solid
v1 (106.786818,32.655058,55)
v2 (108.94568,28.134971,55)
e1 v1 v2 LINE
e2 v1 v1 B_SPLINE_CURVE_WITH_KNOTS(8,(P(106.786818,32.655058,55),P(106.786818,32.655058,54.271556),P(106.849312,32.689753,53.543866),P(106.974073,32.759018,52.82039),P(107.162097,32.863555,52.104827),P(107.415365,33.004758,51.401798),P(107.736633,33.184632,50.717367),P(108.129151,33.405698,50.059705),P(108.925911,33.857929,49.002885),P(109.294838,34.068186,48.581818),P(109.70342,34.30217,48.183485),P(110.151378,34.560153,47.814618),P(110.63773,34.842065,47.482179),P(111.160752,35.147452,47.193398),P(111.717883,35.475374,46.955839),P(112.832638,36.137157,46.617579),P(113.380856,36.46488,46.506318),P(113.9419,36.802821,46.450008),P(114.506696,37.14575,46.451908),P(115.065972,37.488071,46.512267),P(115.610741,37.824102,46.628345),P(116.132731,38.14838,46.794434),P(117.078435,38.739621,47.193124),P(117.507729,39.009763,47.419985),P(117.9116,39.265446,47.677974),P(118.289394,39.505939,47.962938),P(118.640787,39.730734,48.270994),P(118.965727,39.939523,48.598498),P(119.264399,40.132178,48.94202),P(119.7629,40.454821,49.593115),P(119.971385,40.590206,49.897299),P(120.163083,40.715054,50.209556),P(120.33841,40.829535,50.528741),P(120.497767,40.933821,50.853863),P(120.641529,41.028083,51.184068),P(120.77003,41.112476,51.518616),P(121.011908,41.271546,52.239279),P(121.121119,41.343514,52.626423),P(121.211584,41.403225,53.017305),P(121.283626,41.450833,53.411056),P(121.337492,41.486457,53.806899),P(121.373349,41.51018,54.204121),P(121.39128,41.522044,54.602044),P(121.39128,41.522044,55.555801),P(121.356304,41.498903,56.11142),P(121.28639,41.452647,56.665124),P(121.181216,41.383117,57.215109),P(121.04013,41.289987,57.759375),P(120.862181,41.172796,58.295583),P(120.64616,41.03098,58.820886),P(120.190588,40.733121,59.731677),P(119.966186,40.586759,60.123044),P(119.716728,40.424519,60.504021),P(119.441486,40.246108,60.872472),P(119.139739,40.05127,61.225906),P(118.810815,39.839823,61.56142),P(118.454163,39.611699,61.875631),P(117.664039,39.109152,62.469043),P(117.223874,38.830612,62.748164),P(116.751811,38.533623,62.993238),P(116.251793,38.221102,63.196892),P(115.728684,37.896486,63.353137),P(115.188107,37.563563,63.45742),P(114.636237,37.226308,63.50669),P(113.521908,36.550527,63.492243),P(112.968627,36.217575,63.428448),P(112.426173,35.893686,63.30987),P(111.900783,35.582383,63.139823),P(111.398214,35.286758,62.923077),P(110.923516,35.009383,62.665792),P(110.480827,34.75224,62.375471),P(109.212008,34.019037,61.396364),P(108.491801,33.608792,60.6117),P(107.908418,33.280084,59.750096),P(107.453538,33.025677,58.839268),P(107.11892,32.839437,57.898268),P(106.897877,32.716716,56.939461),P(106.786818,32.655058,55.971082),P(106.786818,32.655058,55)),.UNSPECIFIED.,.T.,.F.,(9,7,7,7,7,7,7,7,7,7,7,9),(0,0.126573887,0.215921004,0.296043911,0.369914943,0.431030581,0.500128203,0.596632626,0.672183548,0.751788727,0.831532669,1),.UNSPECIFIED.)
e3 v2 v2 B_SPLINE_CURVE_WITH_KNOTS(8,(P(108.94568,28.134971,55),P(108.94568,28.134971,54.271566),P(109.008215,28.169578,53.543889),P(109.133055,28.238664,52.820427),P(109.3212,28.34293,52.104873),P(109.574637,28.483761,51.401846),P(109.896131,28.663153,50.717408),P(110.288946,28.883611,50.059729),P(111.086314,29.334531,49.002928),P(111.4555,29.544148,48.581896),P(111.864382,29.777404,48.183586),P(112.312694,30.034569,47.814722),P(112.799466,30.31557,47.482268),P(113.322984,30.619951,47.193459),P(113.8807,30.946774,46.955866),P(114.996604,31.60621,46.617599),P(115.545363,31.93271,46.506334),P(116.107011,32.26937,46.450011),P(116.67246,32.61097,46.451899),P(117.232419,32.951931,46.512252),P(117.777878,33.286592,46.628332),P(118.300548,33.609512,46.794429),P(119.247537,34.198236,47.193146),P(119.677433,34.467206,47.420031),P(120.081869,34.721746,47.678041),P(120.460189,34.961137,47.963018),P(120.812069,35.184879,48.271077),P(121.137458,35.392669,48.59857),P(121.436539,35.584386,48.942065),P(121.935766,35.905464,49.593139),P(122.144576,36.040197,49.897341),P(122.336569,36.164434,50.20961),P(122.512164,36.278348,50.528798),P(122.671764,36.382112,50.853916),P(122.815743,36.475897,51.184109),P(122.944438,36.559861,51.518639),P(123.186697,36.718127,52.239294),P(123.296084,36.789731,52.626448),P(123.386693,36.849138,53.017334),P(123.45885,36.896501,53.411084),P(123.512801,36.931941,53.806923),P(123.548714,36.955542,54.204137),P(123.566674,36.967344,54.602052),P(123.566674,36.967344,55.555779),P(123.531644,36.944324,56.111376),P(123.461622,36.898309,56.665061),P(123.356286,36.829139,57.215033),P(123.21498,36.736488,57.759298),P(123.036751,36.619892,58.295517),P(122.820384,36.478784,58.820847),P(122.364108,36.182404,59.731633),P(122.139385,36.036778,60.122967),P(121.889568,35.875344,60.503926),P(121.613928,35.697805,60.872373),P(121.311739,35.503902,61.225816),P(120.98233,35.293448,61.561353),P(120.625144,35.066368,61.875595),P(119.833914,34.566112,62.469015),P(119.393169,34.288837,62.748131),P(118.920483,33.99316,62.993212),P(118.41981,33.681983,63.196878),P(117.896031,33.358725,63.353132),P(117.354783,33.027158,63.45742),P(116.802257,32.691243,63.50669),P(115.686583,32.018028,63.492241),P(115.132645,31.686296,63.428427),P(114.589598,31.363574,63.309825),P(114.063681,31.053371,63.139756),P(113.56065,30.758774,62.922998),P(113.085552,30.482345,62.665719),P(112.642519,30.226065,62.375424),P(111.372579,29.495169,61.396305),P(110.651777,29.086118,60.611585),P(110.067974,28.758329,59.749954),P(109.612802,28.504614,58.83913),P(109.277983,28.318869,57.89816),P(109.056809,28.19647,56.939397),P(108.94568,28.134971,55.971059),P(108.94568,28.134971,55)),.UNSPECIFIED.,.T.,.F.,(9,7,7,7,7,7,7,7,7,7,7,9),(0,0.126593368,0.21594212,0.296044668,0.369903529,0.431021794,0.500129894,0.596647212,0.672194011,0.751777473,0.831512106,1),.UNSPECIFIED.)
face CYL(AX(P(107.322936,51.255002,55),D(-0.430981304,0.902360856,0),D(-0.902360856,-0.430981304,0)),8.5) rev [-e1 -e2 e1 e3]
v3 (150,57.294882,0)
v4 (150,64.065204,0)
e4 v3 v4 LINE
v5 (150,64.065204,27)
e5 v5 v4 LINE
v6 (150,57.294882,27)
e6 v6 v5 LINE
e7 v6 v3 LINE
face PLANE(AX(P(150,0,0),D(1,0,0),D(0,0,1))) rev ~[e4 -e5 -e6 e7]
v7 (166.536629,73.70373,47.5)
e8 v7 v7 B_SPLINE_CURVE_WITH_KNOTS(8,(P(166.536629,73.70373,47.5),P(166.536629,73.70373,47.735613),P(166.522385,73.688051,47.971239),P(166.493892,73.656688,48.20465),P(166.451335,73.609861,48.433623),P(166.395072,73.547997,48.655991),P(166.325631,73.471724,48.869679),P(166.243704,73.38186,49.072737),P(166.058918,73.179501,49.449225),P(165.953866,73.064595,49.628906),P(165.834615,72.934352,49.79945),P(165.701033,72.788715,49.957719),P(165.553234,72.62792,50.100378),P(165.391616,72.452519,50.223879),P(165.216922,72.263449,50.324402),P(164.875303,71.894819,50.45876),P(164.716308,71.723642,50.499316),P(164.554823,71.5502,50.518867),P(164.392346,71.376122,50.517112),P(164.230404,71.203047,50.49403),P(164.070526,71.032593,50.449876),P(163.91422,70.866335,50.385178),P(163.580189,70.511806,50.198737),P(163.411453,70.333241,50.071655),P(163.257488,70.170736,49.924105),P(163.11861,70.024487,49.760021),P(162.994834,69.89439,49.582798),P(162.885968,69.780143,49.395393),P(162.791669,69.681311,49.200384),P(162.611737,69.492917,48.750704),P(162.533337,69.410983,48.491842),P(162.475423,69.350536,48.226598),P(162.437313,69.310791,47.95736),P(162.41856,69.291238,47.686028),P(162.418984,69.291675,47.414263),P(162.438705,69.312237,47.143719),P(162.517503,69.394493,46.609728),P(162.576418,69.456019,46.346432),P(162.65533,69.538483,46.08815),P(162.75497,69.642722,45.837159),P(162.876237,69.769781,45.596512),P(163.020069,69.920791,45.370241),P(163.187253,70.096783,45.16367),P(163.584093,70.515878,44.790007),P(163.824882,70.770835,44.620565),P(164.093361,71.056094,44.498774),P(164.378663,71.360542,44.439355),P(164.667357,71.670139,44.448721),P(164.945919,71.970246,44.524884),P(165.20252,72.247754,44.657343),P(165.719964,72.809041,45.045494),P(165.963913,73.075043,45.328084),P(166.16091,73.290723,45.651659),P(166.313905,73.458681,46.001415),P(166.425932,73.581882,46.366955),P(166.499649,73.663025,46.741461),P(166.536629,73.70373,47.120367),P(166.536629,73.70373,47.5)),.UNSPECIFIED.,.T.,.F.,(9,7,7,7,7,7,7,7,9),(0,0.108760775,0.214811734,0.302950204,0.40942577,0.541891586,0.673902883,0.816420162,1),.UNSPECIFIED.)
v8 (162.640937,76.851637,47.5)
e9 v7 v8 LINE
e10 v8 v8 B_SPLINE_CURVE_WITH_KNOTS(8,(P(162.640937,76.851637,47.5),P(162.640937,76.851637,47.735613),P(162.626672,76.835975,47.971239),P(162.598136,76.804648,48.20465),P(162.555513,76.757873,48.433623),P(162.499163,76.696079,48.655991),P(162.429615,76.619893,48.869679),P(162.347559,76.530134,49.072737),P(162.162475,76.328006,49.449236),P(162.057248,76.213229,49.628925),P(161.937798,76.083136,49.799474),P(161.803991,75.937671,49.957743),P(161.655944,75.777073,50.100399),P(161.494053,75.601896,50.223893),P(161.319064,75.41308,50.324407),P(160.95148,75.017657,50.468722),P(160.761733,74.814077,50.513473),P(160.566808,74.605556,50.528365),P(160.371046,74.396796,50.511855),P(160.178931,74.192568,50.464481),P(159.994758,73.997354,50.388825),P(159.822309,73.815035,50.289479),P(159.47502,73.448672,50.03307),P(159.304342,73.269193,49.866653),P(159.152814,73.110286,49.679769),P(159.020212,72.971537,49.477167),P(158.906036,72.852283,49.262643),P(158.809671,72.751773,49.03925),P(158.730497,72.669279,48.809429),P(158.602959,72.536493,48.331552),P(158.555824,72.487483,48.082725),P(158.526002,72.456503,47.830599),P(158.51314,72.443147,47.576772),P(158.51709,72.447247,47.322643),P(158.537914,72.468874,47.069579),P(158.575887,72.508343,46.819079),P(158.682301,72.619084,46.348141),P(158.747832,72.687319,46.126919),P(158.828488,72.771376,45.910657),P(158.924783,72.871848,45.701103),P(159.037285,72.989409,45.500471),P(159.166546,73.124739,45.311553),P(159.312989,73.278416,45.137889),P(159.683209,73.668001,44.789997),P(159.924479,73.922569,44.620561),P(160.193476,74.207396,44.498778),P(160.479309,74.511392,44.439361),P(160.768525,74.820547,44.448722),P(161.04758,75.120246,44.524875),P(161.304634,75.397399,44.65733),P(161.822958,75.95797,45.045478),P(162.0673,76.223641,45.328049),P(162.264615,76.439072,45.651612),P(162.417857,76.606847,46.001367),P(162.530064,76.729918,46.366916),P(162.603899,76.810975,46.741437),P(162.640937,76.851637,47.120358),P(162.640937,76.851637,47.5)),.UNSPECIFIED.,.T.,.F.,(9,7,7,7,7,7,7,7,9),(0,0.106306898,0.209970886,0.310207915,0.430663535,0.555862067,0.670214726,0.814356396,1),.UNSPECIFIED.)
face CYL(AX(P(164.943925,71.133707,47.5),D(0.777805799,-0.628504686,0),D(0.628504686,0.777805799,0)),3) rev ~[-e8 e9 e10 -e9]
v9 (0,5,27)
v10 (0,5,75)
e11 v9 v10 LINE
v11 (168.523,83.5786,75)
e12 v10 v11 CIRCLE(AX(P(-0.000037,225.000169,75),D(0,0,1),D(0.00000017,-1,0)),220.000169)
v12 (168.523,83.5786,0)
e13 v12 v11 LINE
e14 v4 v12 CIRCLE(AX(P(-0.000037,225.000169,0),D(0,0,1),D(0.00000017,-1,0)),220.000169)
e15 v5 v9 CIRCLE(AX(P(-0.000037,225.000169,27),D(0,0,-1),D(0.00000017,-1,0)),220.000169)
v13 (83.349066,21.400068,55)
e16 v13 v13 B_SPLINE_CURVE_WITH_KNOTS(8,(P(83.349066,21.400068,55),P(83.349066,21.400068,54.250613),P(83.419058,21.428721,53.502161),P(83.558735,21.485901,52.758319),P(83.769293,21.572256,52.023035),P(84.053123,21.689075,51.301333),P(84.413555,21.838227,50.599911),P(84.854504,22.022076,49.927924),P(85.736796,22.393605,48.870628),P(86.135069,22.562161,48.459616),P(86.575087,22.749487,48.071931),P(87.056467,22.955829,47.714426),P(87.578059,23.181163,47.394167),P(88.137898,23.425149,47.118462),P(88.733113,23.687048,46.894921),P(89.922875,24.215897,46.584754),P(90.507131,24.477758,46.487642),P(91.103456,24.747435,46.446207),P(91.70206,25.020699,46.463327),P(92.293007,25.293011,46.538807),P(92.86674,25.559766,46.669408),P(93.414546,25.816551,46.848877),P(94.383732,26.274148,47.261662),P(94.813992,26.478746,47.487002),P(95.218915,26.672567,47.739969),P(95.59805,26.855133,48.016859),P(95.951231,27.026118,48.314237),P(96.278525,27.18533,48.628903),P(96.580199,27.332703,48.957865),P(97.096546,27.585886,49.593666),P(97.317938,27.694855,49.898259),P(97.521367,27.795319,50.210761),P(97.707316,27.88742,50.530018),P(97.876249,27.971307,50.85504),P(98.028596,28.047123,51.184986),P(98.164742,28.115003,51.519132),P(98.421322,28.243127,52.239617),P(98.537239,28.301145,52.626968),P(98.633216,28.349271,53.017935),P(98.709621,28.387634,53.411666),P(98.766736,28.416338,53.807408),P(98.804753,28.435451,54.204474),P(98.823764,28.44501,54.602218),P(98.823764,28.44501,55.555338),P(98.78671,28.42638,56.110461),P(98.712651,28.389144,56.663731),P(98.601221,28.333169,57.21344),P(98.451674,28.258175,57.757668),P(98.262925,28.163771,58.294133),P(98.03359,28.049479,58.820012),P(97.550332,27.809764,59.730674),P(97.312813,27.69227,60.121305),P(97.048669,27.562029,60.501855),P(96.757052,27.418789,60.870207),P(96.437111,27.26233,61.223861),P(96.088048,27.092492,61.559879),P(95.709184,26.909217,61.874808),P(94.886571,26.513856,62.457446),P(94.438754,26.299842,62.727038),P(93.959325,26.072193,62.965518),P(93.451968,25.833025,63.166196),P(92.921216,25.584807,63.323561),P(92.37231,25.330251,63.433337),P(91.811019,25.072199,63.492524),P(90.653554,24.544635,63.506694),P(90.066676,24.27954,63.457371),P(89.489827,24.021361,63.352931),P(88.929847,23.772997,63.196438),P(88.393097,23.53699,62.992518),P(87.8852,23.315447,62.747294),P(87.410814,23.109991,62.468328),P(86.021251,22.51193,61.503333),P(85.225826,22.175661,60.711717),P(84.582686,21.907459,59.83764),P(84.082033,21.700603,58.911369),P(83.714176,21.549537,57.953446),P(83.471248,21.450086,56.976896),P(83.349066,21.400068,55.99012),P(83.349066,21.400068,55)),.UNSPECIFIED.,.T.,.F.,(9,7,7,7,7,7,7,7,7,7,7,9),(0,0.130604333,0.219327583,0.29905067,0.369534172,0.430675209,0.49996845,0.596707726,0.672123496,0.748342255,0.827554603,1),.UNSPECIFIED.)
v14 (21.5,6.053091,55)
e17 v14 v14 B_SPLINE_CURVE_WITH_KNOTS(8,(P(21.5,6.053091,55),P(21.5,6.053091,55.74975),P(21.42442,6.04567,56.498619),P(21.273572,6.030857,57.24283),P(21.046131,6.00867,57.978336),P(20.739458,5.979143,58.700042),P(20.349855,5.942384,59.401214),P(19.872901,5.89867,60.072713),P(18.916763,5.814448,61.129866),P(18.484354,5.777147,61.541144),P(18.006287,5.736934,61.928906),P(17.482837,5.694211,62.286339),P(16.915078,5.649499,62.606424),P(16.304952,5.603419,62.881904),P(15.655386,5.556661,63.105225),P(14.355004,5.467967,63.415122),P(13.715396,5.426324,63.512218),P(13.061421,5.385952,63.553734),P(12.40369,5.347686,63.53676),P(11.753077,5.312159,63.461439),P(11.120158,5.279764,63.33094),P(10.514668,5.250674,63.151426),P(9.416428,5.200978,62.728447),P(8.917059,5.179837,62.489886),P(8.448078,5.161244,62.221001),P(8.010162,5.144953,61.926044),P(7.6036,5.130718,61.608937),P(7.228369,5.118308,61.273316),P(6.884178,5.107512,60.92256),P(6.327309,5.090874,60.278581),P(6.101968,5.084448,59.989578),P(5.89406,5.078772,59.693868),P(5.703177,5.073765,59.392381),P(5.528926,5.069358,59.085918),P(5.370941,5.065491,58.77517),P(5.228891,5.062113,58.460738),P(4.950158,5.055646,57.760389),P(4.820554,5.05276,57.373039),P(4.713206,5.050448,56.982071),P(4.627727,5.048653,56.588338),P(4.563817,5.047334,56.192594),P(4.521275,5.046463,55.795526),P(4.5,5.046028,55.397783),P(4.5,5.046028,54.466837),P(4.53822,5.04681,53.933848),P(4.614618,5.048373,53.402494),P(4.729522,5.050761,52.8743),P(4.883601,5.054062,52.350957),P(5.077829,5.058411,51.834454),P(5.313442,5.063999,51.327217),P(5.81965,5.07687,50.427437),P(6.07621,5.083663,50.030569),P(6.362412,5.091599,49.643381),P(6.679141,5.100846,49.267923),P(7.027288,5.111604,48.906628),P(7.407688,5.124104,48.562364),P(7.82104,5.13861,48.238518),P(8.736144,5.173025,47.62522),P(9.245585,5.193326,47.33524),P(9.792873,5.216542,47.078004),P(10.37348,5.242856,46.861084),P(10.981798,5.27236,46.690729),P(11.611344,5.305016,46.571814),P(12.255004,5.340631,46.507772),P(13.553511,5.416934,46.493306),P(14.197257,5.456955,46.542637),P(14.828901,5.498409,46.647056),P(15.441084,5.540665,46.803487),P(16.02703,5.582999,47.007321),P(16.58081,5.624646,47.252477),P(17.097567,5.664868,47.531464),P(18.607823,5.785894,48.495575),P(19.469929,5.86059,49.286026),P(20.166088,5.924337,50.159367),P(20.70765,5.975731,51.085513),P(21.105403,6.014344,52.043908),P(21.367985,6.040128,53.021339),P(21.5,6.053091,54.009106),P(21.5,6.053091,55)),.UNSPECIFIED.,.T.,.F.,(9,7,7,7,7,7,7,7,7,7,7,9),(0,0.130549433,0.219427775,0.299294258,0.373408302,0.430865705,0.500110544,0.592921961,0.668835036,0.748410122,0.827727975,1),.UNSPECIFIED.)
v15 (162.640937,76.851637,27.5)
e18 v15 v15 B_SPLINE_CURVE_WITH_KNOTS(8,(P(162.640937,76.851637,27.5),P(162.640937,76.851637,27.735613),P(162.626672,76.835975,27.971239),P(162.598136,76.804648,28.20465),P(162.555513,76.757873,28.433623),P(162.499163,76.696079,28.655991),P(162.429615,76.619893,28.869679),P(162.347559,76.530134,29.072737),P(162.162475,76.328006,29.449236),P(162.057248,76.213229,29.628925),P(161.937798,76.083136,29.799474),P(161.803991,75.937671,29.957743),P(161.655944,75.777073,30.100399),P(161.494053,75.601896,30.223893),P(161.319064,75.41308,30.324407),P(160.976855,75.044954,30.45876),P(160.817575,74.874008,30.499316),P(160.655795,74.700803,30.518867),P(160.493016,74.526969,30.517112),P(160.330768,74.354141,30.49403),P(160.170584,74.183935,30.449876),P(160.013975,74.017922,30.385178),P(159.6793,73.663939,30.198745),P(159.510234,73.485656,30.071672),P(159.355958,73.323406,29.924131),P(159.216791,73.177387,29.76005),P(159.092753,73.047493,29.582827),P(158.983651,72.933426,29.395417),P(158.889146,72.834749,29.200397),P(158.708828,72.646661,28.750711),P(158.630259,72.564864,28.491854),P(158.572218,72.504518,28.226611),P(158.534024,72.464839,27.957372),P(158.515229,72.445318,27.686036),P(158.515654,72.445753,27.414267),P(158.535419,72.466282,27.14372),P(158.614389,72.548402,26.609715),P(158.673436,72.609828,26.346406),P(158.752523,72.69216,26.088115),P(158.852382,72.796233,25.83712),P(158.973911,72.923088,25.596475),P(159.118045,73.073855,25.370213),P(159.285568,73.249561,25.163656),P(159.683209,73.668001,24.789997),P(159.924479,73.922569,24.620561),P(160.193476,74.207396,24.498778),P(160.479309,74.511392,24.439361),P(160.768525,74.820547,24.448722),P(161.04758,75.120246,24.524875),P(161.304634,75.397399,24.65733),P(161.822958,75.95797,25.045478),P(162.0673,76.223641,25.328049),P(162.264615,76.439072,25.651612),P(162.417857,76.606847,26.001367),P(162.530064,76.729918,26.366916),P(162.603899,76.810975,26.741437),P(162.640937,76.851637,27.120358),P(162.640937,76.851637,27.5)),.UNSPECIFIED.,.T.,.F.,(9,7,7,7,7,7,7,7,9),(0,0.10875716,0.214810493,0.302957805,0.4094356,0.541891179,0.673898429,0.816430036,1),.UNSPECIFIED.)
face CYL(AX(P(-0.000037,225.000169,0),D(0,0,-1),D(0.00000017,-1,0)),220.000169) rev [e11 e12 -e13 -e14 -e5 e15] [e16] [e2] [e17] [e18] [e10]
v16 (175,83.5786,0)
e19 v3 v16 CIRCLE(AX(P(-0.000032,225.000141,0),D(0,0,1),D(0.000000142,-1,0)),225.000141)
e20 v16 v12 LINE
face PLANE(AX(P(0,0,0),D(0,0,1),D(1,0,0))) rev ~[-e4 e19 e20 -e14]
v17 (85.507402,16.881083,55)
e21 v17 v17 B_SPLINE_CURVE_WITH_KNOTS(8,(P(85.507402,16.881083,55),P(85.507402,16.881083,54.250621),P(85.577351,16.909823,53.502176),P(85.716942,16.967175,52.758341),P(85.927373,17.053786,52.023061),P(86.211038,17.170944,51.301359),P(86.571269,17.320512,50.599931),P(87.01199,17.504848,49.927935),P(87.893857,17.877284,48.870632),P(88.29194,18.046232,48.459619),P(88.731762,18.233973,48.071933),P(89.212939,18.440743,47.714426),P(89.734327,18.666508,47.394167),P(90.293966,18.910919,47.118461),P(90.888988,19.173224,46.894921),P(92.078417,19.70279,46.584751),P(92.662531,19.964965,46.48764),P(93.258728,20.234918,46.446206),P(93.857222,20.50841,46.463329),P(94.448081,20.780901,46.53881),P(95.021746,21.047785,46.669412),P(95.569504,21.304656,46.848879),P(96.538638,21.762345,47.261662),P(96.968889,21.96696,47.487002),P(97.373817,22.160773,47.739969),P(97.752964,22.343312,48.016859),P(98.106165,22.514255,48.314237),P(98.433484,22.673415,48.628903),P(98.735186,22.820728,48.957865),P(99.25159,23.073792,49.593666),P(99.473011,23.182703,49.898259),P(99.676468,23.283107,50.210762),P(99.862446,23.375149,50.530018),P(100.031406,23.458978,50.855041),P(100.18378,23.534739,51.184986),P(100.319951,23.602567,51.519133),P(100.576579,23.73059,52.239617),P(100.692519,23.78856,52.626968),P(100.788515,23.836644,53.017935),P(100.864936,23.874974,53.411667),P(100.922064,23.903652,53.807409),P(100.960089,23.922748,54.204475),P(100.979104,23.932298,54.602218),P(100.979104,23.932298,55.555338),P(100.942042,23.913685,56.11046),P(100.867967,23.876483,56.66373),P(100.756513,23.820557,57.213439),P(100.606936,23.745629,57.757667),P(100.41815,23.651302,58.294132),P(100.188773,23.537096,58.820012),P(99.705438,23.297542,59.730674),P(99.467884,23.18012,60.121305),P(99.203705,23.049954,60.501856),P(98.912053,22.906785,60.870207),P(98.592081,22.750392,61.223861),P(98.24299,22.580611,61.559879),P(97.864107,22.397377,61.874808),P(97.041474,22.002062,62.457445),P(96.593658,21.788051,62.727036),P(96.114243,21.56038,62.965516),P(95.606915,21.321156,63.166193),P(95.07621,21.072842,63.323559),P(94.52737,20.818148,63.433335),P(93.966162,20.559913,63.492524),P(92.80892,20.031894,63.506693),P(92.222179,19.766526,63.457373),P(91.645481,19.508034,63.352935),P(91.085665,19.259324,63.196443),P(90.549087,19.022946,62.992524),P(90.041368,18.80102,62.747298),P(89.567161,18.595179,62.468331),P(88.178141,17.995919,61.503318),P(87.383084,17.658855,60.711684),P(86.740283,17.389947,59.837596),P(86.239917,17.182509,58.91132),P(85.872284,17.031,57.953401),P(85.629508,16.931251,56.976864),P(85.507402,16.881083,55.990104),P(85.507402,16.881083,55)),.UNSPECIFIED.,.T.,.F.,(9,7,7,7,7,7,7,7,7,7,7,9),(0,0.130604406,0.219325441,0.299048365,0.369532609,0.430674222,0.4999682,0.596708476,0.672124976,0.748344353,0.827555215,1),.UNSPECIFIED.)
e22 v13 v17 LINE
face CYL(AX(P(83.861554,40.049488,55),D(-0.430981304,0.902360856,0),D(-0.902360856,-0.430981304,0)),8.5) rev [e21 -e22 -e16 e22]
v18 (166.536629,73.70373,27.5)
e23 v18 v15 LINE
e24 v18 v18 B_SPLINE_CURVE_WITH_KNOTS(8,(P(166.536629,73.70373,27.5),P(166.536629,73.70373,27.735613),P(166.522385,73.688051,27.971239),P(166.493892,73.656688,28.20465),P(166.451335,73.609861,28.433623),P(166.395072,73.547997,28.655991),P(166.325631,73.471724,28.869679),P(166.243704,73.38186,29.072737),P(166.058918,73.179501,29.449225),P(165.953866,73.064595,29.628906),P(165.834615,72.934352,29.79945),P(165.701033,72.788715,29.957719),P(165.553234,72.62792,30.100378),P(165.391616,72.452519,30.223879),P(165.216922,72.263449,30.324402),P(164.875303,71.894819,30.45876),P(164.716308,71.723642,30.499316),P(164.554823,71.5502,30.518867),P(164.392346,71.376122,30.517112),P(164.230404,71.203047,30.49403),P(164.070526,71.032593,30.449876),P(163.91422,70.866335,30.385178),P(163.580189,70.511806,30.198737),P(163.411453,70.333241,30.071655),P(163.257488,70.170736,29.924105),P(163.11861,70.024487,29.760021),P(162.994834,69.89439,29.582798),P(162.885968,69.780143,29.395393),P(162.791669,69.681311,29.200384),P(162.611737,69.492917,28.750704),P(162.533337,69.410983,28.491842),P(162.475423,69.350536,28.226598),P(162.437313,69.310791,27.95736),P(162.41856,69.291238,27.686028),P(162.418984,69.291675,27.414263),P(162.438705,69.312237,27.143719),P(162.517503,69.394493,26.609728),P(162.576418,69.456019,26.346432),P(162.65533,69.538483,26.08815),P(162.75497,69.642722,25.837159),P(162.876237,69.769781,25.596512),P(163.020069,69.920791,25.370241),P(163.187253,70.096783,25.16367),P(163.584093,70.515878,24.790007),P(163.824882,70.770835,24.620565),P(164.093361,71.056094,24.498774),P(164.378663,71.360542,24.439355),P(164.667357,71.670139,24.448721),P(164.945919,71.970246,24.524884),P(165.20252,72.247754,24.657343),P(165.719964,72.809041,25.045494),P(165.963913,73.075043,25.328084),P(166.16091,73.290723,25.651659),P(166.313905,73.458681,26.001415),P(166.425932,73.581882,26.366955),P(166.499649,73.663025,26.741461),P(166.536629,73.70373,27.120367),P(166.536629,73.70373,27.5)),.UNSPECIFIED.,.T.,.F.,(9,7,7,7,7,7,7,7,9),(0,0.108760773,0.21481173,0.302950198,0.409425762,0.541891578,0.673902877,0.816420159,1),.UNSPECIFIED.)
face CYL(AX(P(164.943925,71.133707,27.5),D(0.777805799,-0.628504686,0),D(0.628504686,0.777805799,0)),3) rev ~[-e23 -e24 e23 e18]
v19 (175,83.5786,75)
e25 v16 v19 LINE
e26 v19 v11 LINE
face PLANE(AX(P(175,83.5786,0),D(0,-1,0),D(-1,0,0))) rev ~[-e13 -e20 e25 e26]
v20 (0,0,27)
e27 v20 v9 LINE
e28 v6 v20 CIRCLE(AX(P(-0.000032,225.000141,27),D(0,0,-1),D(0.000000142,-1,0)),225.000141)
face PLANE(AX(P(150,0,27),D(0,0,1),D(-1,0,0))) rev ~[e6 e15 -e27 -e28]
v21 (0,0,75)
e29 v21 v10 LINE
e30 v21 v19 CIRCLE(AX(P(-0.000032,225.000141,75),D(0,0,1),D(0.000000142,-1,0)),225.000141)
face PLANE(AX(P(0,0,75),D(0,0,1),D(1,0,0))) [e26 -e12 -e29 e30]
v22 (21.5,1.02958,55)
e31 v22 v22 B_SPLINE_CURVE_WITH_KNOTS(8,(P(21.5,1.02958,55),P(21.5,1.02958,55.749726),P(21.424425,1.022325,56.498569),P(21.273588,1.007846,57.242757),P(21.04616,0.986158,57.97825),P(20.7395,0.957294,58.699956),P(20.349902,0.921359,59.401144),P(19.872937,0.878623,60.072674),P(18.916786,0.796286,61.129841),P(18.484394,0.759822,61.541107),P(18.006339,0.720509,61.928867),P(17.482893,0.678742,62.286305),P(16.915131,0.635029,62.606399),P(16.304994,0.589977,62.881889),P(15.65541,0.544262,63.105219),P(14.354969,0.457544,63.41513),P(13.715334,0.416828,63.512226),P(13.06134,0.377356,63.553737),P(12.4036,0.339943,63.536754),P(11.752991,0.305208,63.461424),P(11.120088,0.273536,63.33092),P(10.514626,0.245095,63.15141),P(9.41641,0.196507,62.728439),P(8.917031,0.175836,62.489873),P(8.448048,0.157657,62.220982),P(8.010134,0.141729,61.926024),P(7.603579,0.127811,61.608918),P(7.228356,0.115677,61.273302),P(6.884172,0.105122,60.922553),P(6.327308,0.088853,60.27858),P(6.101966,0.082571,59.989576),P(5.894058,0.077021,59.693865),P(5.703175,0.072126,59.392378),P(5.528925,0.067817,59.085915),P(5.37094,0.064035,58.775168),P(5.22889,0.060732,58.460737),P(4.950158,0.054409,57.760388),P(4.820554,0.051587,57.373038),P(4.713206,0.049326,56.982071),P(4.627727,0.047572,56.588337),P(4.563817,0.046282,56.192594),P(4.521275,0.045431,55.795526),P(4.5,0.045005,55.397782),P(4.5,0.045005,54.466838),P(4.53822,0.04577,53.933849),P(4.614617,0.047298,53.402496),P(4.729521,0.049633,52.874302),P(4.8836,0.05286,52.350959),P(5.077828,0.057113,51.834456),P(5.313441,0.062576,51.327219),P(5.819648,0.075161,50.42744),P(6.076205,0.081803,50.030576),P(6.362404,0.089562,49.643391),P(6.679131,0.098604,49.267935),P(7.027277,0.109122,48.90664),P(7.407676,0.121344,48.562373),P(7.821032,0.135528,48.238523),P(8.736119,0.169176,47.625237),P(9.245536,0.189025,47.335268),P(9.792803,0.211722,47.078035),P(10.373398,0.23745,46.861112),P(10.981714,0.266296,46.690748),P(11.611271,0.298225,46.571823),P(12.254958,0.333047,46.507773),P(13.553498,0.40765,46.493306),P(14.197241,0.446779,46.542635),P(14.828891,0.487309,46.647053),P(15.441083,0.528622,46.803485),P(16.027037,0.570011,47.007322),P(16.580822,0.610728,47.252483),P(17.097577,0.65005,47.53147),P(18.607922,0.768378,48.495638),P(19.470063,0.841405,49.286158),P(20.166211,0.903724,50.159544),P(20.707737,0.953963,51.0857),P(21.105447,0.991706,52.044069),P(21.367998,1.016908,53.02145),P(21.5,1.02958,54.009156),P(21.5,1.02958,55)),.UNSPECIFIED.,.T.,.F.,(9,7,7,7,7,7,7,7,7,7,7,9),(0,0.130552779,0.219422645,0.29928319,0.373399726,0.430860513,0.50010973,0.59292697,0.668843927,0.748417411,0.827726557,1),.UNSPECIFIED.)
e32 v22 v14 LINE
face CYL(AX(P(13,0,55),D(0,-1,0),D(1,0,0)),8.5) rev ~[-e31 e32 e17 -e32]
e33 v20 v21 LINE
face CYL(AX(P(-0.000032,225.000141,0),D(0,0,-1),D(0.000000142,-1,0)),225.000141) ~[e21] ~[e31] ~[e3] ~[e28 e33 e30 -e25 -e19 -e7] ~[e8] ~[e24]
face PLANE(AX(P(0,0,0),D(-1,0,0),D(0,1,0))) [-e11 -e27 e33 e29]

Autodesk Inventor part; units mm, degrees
sketch "Sketch1" plane through (0, 0, 0) normal (0, 0, 1) x (1, 0, 0)
  circle A0 centre (0, 225) radius 225 construction
  circle A1 centre (0, 225) radius 220 construction
  arc A2 (0, 0) -> (175, 83.5786) centre (0, 225) ccw
  line L0 (175, 83.5786) -> (168.523, 83.5786)
  line L1 (0, 0) -> (0, 5)
  arc A3 (0, 5) -> (168.523, 83.5786) centre (0, 225) ccw
  dimension "d0" = 450
  dimension "d1" = 5
  dimension "d2" = 175
extrude "Extrusion1" add sketch "Sketch1" along normal blind 75
ref_plane "Work Plane1" through (0, 0, 0) normal (0, -1, 0) x (1, 0, 0)
sketch "Sketch2" plane through (0, 0, 0) normal (0, -1, 0) x (1, 0, 0)
  line L0 (0, 0) -> (150, 0)
  line L1 (150, 0) -> (150, 27)
  line L2 (150, 27) -> (0, 27)
  line L3 (0, 27) -> (0, 0)
  line L4 (0, 0) -> (175, 0) projected
  line L5 (175, 0) -> (175, 75) projected
  line L6 (0, 75) -> (175, 75) projected
  line L7 (0, 0) -> (0, 75) projected
  dimension "d5" = 27
  dimension "d6" = 25
extrude "Extrusion2" cut sketch "Sketch2" against normal through all contours L3 L2 L1 L0
ref_plane "Work Plane2" through (175, 83.5786, 0) normal (0.7778, -0.6285, 0) x (0.6285, 0.7778, 0)
sketch "Sketch3" plane through (175, 83.5786, 0) normal (0.7778, -0.6285, 0) x (0.6285, 0.7778, 0)
  circle A0 centre (-16, 47.5) radius 3
  circle A1 centre (-16, 27.5) radius 3
  line L0 (0, 0) -> (0, 75) projected
  line L1 (-36.1564, 27) -> (-36.1564, 0) projected
  line L2 (-36.1564, 0) -> (0, 0) projected
  line L3 (0, 0) -> (0, 75) projected
  line L4 (-175, 75) -> (0, 75) projected
  line L5 (-175, 27) -> (-175, 75) projected
  line L6 (-175, 27) -> (-36.1564, 27) projected
  point P0 (-175, 0)
  dimension "d9" = 6
  dimension "d10" = 6
  dimension "d11" = 16
  dimension "d12" = 27.5
  dimension "d13" = 20
extrude "Extrusion3" cut sketch "Sketch3" against normal through all contours A0 | A1
sketch "Sketch4" plane through (0, 0, 0) normal (0, -1, 0) x (1, 0, 0)
  circle A0 centre (13, 55) radius 8.5
  line L0 (0, 27) -> (0, 75) projected
  line L1 (175, 75) -> (0, 75) projected
  point P0 (0, 0)
  dimension "d16" = 17
  dimension "d17" = 13
  dimension "d18" = 20
extrude "Extrusion4" cut sketch "Sketch4" along normal through all both and the other way through all
ref_plane "Work Plane3" through (175, 83.5786, 75) normal (0.431, -0.9024, 0) x (-0.9024, -0.431, 0)
sketch "Sketch6" plane through (175, 83.5786, 75) normal (0.431, -0.9024, 0) x (-0.9024, -0.431, 0)
  circle A0 centre (101, 20) radius 8.5
  circle A1 centre (75, 20) radius 8.5
  line L0 (191.7792, 0) -> (5.8446, 0) projected
  point P0 (193.934, 75)
  point P1 (0, 0)
  dimension "d26" = 17
  dimension "d27" = 17
  dimension "d28" = 26
  dimension "d29" = 20
  dimension "d30" = 75
extrude "Extrusion5" cut sketch "Sketch6" along normal through all
properties part number "CW007" material "ABS Plastic"
